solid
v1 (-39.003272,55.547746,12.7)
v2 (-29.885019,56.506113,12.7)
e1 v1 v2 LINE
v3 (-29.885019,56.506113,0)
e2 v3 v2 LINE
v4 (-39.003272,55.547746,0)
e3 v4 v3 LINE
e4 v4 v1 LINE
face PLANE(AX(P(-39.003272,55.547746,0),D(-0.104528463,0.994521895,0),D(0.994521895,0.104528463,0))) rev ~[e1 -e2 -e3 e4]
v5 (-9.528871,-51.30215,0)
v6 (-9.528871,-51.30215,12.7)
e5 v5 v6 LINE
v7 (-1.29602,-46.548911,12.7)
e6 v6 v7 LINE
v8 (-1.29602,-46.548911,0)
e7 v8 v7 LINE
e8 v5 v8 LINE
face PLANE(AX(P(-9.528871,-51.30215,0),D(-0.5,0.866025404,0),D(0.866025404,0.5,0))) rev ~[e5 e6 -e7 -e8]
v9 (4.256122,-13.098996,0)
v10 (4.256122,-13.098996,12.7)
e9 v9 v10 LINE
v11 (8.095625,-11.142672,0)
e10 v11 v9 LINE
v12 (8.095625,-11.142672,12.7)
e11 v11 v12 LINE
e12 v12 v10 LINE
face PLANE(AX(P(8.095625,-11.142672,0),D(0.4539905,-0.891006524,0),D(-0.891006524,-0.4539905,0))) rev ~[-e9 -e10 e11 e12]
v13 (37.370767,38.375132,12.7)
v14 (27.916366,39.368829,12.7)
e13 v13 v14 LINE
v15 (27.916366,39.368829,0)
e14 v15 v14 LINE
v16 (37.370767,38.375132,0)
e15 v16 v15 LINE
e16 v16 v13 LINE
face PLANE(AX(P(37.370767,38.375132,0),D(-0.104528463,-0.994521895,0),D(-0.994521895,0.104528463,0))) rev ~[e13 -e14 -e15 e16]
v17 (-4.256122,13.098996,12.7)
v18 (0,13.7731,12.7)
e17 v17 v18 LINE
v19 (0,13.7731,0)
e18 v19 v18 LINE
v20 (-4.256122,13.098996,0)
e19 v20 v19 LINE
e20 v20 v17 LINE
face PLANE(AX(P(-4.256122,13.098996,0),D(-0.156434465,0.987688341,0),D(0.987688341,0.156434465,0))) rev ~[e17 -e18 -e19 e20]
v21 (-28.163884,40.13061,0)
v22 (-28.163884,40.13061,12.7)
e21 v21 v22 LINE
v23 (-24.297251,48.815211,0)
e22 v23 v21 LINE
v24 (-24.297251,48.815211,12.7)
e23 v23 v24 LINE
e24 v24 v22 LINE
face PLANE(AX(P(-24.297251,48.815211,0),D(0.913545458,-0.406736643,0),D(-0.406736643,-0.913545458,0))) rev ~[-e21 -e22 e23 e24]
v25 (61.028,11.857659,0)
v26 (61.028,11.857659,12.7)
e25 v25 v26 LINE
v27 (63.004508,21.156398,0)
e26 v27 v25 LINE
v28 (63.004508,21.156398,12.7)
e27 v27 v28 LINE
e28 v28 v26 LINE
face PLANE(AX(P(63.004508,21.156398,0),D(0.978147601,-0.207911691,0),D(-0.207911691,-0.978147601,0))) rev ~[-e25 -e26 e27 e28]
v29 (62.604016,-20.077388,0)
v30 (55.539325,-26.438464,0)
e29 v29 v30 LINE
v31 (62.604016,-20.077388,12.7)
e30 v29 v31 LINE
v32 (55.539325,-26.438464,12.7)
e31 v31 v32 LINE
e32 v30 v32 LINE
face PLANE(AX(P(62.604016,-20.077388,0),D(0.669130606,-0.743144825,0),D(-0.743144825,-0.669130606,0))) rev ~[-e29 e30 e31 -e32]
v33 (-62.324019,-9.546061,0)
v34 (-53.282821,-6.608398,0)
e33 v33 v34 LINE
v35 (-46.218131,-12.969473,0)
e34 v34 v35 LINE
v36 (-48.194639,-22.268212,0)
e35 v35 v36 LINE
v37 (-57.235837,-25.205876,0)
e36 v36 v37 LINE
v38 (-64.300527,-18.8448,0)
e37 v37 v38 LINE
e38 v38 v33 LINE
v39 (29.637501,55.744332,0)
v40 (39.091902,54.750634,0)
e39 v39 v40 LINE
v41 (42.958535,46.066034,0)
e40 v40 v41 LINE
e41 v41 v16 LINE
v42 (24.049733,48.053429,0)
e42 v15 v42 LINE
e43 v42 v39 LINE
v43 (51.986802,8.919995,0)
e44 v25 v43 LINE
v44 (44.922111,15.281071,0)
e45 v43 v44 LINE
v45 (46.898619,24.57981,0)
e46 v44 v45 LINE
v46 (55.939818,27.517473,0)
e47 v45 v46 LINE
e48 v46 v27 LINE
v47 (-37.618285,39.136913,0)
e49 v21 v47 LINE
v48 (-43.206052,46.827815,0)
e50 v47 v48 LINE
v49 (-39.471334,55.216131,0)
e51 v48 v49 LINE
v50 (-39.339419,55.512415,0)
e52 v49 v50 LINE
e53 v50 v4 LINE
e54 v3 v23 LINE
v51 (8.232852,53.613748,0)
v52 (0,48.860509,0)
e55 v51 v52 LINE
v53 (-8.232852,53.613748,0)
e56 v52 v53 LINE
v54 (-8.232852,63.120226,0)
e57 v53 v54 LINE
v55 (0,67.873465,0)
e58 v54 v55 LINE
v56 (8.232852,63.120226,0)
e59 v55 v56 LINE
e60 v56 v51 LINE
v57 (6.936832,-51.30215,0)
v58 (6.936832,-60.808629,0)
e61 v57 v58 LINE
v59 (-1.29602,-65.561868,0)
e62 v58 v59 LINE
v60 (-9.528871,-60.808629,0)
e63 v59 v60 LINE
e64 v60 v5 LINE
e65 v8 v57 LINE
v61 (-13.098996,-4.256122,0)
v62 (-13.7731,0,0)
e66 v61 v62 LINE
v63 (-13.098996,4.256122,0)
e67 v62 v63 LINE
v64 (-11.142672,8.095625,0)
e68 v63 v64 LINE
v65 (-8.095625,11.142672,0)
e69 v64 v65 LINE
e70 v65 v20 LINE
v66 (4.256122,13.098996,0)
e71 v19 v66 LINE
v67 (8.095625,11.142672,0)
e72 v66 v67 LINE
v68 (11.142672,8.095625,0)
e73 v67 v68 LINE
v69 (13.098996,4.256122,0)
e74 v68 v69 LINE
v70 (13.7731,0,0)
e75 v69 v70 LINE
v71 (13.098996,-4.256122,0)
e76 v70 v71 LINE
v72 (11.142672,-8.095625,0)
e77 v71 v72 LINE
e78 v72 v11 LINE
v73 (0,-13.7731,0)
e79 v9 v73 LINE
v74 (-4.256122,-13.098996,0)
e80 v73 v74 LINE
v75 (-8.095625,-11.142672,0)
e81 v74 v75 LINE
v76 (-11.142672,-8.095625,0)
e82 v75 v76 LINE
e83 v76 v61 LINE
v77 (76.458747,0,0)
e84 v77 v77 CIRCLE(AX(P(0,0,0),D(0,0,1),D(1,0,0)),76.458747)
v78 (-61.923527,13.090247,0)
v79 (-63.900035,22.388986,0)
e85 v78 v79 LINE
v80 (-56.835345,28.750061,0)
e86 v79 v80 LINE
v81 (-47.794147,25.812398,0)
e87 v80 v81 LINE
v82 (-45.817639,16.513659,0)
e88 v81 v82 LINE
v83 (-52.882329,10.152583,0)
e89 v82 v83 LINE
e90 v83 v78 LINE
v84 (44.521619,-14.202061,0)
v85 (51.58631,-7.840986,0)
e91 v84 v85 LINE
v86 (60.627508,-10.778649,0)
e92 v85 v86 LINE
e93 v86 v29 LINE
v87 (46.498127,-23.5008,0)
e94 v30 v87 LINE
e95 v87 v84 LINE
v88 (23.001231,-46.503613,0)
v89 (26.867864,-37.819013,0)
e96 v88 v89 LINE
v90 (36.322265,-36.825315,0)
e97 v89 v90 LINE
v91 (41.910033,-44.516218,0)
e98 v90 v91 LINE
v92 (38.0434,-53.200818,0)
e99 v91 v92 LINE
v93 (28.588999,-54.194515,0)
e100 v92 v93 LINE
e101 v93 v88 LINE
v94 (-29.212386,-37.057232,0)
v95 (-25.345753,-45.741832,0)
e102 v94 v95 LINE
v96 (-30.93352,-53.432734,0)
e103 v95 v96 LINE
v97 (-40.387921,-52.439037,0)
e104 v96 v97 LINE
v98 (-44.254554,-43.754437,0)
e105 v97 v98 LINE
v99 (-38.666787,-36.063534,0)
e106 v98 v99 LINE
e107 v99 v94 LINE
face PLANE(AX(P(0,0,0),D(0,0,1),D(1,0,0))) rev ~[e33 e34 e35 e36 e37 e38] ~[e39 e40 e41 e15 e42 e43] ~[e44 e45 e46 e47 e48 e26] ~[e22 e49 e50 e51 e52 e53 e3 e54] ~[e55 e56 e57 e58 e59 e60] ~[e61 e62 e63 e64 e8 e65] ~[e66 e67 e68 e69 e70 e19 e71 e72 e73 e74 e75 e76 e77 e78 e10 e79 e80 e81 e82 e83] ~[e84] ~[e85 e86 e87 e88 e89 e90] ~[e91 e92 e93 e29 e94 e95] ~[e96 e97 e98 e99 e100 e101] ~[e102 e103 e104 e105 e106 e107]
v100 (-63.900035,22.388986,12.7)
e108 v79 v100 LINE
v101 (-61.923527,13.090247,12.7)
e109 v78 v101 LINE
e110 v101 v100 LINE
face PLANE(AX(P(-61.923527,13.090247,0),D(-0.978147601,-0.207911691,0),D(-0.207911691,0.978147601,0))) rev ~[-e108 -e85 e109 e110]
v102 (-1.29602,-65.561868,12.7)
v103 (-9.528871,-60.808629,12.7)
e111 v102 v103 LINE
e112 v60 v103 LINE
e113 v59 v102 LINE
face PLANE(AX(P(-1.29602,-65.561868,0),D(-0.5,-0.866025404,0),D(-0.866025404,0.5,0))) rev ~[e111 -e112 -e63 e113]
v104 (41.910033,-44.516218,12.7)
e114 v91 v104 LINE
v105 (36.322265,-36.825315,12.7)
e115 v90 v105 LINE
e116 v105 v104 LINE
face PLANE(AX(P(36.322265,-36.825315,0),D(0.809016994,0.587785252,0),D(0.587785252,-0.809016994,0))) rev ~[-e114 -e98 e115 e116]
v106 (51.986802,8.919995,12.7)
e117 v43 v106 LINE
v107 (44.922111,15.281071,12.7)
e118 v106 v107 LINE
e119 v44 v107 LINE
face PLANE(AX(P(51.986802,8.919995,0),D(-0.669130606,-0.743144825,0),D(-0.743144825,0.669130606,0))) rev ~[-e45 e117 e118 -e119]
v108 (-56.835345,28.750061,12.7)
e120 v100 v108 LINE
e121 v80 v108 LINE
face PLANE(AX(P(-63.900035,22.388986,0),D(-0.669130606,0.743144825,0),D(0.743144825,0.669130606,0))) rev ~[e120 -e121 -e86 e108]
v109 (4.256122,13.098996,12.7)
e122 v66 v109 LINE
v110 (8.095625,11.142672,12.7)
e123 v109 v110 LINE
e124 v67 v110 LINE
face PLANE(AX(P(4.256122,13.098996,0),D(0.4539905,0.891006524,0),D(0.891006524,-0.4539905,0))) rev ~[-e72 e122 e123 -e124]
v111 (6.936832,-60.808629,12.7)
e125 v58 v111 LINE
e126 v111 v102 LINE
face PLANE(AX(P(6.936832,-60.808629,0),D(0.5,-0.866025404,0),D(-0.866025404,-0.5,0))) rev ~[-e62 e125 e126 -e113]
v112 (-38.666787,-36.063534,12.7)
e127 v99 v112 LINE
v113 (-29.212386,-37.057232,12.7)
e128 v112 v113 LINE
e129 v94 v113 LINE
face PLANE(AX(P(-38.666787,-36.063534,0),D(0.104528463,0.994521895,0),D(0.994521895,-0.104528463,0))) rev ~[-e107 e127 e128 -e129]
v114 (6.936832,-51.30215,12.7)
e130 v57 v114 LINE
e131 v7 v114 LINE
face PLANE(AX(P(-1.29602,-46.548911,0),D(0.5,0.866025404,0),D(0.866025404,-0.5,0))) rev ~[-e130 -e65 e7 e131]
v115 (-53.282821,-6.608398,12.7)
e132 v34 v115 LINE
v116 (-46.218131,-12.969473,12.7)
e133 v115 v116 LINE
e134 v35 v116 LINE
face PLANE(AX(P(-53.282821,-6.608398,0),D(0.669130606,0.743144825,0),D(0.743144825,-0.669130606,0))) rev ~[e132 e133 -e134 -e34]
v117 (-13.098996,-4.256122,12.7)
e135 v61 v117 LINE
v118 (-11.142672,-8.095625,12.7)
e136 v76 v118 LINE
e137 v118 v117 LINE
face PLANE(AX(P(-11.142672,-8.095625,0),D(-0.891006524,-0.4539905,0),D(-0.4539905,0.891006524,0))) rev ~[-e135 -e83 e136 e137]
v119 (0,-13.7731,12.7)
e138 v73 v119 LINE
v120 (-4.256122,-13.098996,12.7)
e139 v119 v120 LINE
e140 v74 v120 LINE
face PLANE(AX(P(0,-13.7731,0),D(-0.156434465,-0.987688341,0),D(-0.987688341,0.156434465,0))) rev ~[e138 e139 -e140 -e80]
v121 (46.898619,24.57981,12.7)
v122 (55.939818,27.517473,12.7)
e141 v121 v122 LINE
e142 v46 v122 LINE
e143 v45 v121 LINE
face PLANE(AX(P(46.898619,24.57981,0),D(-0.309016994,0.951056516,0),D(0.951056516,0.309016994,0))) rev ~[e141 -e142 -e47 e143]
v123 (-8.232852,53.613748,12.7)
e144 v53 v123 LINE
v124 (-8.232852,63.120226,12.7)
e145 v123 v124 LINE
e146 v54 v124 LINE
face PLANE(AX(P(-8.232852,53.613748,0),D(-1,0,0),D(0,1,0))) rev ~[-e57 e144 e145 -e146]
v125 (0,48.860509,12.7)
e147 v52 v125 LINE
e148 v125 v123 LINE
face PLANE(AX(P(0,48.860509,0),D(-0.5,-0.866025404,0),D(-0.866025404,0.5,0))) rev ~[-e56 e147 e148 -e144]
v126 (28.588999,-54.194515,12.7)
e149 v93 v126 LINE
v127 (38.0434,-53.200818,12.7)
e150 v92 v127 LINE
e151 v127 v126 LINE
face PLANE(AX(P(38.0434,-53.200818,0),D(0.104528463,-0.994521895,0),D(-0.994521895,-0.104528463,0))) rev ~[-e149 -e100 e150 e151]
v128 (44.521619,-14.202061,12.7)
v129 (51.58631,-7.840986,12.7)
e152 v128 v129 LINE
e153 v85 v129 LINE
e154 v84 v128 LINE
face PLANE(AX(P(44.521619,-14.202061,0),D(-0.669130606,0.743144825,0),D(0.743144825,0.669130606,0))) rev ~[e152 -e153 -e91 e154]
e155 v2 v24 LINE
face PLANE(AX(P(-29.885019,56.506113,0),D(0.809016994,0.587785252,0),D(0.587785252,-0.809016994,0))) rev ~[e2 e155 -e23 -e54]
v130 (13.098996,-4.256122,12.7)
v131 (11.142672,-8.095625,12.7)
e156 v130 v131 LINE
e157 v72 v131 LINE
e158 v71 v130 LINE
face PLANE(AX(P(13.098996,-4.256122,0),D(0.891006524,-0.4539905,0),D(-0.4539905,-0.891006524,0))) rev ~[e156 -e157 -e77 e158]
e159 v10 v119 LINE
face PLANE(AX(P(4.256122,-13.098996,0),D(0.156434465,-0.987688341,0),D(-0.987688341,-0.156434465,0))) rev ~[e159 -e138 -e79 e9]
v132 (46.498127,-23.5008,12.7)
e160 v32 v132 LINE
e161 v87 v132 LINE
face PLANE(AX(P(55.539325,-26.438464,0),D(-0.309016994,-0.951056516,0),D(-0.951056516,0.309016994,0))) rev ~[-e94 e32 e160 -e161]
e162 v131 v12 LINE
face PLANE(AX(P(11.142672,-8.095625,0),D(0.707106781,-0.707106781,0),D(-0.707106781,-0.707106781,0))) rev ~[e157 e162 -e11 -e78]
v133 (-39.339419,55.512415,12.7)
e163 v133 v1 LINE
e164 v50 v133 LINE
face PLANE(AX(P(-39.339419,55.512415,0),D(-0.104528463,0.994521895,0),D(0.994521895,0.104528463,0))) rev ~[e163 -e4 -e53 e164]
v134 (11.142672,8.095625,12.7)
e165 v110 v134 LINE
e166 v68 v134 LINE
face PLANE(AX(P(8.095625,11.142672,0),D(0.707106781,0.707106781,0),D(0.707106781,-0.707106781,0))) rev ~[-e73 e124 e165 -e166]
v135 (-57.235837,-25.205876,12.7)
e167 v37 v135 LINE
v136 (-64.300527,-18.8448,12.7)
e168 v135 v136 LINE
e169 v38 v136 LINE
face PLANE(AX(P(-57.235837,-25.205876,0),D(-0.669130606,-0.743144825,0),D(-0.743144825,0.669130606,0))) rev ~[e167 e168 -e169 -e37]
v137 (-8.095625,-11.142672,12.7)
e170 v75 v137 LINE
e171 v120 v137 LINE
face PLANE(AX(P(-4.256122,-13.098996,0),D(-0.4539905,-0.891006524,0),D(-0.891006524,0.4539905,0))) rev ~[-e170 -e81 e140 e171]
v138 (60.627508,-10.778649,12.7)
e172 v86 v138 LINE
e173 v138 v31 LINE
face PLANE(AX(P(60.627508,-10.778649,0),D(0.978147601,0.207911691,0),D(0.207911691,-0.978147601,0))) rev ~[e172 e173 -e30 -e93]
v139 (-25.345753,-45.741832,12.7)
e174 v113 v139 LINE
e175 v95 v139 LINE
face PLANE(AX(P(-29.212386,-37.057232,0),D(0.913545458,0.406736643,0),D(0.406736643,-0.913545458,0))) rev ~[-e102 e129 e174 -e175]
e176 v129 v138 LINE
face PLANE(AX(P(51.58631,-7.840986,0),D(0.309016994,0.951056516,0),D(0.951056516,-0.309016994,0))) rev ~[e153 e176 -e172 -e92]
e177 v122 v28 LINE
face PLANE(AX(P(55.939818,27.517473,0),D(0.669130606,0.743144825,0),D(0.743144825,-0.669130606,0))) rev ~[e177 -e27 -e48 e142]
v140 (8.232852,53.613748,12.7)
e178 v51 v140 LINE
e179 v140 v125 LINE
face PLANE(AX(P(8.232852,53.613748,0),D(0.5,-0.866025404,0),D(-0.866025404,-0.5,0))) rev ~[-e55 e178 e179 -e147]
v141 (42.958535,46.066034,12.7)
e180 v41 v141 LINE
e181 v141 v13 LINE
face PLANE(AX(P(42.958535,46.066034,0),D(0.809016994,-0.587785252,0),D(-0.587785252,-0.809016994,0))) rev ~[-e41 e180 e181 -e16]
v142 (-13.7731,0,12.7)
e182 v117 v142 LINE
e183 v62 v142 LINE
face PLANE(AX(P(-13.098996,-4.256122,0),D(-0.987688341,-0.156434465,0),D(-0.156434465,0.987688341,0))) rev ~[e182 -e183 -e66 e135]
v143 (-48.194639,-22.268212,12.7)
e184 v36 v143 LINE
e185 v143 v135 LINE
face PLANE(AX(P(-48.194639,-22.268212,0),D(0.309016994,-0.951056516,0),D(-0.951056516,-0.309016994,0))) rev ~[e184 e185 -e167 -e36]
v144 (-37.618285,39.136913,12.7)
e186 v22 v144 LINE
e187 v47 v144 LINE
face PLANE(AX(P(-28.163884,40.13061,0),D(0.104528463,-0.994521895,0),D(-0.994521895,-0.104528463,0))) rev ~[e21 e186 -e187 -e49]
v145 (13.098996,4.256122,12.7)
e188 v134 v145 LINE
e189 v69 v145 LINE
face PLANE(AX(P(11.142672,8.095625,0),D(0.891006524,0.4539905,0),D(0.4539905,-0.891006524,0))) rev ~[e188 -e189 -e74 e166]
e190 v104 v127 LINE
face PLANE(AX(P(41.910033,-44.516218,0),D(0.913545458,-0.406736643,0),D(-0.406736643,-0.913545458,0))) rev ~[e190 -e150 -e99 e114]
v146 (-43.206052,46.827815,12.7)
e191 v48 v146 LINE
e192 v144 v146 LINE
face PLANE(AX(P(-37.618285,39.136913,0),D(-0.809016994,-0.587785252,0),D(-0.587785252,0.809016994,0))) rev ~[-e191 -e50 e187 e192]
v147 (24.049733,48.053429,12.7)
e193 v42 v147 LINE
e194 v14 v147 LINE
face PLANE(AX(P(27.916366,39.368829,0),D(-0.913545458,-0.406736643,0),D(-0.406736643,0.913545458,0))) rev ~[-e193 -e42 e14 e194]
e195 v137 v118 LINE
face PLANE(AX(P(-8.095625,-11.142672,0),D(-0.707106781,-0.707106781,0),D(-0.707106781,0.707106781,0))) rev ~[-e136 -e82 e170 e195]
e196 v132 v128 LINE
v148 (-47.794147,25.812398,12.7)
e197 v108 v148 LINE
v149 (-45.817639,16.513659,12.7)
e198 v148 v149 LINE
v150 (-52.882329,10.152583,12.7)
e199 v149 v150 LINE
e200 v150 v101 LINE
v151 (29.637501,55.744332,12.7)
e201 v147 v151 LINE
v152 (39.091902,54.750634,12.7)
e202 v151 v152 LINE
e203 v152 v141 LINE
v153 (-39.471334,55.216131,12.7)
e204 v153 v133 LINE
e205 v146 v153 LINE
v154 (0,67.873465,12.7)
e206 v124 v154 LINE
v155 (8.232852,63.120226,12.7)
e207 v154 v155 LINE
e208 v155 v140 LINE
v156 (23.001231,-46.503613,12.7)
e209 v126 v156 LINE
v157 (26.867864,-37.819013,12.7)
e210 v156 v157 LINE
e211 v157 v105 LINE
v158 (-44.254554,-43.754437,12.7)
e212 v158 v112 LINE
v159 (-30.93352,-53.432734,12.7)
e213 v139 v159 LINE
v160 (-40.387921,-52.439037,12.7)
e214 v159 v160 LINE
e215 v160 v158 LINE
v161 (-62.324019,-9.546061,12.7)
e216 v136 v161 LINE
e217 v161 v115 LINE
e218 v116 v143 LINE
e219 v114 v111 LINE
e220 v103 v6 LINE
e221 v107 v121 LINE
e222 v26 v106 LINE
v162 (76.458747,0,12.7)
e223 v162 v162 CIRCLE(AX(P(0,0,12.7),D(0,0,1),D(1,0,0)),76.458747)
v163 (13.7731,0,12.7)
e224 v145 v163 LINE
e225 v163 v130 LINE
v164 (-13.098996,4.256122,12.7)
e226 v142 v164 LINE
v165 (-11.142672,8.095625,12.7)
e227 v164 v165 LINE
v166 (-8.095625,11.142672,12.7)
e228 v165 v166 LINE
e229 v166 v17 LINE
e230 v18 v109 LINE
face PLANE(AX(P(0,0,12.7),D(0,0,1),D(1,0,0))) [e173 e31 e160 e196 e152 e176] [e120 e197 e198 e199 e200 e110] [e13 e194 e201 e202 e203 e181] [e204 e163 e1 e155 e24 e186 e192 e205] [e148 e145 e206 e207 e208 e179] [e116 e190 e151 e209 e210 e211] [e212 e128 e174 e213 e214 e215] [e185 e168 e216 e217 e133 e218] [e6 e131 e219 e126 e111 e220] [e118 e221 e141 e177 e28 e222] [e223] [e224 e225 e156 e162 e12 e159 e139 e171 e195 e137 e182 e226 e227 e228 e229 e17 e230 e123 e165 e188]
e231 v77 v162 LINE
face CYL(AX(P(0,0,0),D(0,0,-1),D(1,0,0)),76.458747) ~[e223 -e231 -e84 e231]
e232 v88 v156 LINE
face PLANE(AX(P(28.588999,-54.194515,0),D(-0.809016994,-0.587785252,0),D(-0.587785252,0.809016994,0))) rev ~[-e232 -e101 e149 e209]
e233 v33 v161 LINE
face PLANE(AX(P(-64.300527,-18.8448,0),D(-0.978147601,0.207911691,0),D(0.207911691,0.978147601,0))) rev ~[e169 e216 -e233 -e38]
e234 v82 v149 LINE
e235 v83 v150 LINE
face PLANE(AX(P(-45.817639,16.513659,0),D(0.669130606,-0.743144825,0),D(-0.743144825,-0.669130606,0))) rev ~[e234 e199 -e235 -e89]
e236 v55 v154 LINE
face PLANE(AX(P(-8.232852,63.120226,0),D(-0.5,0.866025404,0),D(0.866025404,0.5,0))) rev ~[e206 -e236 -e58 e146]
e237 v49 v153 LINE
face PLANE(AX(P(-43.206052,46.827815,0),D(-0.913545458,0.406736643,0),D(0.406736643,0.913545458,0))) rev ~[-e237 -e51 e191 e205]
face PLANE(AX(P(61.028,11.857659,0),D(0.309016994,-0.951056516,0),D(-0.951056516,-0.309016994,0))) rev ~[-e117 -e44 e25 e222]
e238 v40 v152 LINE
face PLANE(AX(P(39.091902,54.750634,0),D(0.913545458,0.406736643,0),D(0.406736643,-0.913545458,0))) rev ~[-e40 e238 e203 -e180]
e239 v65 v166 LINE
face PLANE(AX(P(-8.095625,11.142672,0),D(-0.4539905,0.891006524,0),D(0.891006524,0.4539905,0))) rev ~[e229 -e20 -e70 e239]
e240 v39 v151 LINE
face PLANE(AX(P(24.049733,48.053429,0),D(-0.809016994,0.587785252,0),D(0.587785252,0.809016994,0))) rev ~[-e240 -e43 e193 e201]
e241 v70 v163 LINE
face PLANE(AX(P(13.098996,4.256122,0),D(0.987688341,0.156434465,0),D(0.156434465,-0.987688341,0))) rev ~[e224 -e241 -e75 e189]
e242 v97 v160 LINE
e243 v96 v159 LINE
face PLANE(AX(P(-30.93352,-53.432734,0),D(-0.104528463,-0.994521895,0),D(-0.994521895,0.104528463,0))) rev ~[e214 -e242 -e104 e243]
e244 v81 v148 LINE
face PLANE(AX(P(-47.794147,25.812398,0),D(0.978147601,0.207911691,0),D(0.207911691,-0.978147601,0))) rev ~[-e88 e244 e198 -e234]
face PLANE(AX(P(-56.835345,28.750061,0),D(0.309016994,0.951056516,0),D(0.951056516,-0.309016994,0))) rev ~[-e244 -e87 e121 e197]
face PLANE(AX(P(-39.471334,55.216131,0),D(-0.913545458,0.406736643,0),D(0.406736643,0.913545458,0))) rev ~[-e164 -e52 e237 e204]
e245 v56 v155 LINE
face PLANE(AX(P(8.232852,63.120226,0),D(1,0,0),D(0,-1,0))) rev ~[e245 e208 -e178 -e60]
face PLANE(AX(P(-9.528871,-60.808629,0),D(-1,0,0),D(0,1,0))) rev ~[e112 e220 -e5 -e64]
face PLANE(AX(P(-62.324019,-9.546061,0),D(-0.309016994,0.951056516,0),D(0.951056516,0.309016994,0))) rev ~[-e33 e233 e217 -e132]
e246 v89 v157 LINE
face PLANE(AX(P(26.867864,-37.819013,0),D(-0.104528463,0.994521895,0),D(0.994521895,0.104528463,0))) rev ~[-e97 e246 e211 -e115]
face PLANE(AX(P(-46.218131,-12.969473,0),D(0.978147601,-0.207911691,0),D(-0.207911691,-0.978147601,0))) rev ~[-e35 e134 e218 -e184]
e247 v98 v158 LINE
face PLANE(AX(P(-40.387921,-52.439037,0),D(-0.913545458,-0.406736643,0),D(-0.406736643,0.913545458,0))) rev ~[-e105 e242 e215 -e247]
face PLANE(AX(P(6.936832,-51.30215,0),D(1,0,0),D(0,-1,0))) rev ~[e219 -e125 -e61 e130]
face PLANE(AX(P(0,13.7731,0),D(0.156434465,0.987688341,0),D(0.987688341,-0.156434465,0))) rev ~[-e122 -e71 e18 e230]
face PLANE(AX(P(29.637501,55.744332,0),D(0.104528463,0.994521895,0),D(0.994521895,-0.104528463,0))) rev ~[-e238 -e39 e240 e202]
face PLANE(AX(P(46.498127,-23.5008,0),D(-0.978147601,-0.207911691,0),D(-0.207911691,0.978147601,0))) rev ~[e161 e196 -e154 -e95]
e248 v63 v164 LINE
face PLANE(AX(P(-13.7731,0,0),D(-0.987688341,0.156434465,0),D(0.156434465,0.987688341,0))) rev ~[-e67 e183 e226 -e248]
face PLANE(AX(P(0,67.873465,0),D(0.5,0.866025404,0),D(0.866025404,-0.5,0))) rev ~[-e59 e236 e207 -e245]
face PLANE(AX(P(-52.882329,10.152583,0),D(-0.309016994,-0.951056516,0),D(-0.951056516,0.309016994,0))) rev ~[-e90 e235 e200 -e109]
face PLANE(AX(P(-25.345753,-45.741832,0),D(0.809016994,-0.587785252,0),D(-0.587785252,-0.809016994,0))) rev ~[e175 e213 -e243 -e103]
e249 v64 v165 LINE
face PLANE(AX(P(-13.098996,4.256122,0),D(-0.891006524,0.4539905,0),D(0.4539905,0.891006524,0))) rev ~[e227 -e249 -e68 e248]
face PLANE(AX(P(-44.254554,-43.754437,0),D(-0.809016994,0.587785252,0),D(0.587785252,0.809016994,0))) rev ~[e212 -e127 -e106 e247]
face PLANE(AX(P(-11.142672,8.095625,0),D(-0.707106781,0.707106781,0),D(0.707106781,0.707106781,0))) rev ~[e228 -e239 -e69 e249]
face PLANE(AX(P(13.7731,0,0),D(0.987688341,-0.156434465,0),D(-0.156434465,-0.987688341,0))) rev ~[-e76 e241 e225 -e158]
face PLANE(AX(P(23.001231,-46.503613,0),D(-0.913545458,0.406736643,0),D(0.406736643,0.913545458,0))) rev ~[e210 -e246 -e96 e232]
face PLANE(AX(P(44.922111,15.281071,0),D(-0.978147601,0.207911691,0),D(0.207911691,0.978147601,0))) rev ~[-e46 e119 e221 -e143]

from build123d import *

# Parameters (mm, degrees)
F0_R     = 76.4587467439
F1_DEPTH = 12.7


with BuildPart() as f1:
    # F0 (on Top) → F1 (new body)
    with BuildSketch(Plane.XY):
        Circle(F0_R)
        with BuildLine():
            ThreePointArc((0, 67.8734653551), (47.9937876152, 47.9937876152), (67.8734653551, 0))
            ThreePointArc((67.8734653551, 0), (-31.0463451655, -60.3567042769), (-39.4713337388, 55.2161309057))
            Line((-39.4713337388, 55.2161309057), (-39.3394193415, 55.5124154929))
            Line((-39.3394193415, 55.5124154929), (-39.0032717993, 55.5477460232))
            ThreePointArc((-39.0032717993, 55.5477460232), (-20.4522527371, 64.7187195276), (0, 67.8734653551))
        make_face(mode=Mode.SUBTRACT)
        with BuildLine():
            ThreePointArc((-39.4713337388, 55.2161309057), (-31.0463451655, -60.3567042769), (67.8734653551, 0))
            ThreePointArc((67.8734653551, 0), (47.9937876152, 47.9937876152), (0, 67.8734653551))
            ThreePointArc((0, 67.8734653551), (-20.4522527371, 64.7187195276), (-39.0032717993, 55.5477460232))
            Line((-39.0032717993, 55.5477460232), (-29.885018528, 56.5061130603))
            Line((-29.885018528, 56.5061130603), (-24.2972507842, 48.8152105619))
            Line((-24.2972507842, 48.8152105619), (-28.1638838539, 40.1306104961))
            Line((-28.1638838539, 40.1306104961), (-37.6182846674, 39.1369129287))
            Line((-37.6182846674, 39.1369129287), (-43.2060524113, 46.8278154271))
            Line((-43.2060524113, 46.8278154271), (-39.4713337388, 55.2161309057))
        make_face()
        Polygon((-30.9335204728, -53.4327342282), (-40.3879212864, -52.4390366608), (-44.2545543561, -43.754436595), (-38.6667866123, -36.0635340966), (-29.2123857987, -37.057231664), (-25.345752729, -45.7418317298), align=None, mode=Mode.SUBTRACT)
        Polygon((6.9368320268, -60.8086286285), (-1.2960196783, -65.5618677767), (-9.5288713835, -60.8086286285), (-9.5288713835, -51.3021503321), (-1.2960196783, -46.548911184), (6.9368320268, -51.3021503321), align=None, mode=Mode.SUBTRACT)
        Polygon((-57.235837277, -25.2058756113), (-64.3005274315, -18.8448000245), (-62.3240194552, -9.5460610875), (-53.2828213244, -6.6083977373), (-46.21813117, -12.969473324), (-48.1946391463, -22.268212261), align=None, mode=Mode.SUBTRACT)
        Polygon((41.9100327329, -44.5162178486), (38.0433996632, -53.2008179144), (28.5889988496, -54.1945154818), (23.0012311058, -46.5036129834), (26.8678641755, -37.8190129176), (36.3222649891, -36.8253153502), align=None, mode=Mode.SUBTRACT)
        Polygon((60.6275076712, -10.7786490478), (62.6040156475, -20.0773879848), (55.539325493, -26.4384635716), (46.4981273623, -23.5008002214), (44.521619386, -14.2020612844), (51.5863095404, -7.8409856976), align=None, mode=Mode.SUBTRACT)
        Polygon((-61.9235273495, 13.0902466263), (-63.9000353258, 22.3889855633), (-56.8353451714, 28.7500611501), (-47.7941470406, 25.8123977998), (-45.8176390643, 16.5136588628), (-52.8823292188, 10.1525832761), align=None, mode=Mode.SUBTRACT)
        Polygon((4.2561218167, 13.0989960474), (8.0956247758, 11.1426715763), (11.1426715763, 8.0956247758), (13.0989960474, 4.2561218167), (13.7730995193, 0), (13.0989960474, -4.2561218167), (11.1426715763, -8.0956247758), (8.0956247758, -11.1426715763), (4.2561218167, -13.0989960474), (0, -13.7730995193), (-4.2561218167, -13.0989960474), (-8.0956247758, -11.1426715763), (-11.1426715763, -8.0956247758), (-13.0989960474, -4.2561218167), (-13.7730995193, 0), (-13.0989960474, 4.2561218167), (-11.1426715763, 8.0956247758), (-8.0956247758, 11.1426715763), (-4.2561218167, 13.0989960474), (0, 13.7730995193), align=None, mode=Mode.SUBTRACT)
        Polygon((55.9398175987, 27.5174731897), (63.0045077531, 21.156397603), (61.0279997768, 11.857658666), (51.9868016461, 8.9199953157), (44.9221114916, 15.2810709025), (46.8986194679, 24.5798098395), align=None, mode=Mode.SUBTRACT)
        Polygon((29.6375007945, 55.7443318067), (39.091901608, 54.7506342393), (42.9585346778, 46.0660341735), (37.3707669339, 38.3751316751), (27.9163661204, 39.3688292425), (24.0497330506, 48.0534293083), align=None, mode=Mode.SUBTRACT)
        Polygon((-8.2328517052, 63.1202262069), (0, 67.8734653551), (8.2328517052, 63.1202262069), (8.2328517052, 53.6137479106), (0, 48.8605087624), (-8.2328517052, 53.6137479106), align=None, mode=Mode.SUBTRACT)
    extrude(amount=F1_DEPTH)


solid = f1.part
